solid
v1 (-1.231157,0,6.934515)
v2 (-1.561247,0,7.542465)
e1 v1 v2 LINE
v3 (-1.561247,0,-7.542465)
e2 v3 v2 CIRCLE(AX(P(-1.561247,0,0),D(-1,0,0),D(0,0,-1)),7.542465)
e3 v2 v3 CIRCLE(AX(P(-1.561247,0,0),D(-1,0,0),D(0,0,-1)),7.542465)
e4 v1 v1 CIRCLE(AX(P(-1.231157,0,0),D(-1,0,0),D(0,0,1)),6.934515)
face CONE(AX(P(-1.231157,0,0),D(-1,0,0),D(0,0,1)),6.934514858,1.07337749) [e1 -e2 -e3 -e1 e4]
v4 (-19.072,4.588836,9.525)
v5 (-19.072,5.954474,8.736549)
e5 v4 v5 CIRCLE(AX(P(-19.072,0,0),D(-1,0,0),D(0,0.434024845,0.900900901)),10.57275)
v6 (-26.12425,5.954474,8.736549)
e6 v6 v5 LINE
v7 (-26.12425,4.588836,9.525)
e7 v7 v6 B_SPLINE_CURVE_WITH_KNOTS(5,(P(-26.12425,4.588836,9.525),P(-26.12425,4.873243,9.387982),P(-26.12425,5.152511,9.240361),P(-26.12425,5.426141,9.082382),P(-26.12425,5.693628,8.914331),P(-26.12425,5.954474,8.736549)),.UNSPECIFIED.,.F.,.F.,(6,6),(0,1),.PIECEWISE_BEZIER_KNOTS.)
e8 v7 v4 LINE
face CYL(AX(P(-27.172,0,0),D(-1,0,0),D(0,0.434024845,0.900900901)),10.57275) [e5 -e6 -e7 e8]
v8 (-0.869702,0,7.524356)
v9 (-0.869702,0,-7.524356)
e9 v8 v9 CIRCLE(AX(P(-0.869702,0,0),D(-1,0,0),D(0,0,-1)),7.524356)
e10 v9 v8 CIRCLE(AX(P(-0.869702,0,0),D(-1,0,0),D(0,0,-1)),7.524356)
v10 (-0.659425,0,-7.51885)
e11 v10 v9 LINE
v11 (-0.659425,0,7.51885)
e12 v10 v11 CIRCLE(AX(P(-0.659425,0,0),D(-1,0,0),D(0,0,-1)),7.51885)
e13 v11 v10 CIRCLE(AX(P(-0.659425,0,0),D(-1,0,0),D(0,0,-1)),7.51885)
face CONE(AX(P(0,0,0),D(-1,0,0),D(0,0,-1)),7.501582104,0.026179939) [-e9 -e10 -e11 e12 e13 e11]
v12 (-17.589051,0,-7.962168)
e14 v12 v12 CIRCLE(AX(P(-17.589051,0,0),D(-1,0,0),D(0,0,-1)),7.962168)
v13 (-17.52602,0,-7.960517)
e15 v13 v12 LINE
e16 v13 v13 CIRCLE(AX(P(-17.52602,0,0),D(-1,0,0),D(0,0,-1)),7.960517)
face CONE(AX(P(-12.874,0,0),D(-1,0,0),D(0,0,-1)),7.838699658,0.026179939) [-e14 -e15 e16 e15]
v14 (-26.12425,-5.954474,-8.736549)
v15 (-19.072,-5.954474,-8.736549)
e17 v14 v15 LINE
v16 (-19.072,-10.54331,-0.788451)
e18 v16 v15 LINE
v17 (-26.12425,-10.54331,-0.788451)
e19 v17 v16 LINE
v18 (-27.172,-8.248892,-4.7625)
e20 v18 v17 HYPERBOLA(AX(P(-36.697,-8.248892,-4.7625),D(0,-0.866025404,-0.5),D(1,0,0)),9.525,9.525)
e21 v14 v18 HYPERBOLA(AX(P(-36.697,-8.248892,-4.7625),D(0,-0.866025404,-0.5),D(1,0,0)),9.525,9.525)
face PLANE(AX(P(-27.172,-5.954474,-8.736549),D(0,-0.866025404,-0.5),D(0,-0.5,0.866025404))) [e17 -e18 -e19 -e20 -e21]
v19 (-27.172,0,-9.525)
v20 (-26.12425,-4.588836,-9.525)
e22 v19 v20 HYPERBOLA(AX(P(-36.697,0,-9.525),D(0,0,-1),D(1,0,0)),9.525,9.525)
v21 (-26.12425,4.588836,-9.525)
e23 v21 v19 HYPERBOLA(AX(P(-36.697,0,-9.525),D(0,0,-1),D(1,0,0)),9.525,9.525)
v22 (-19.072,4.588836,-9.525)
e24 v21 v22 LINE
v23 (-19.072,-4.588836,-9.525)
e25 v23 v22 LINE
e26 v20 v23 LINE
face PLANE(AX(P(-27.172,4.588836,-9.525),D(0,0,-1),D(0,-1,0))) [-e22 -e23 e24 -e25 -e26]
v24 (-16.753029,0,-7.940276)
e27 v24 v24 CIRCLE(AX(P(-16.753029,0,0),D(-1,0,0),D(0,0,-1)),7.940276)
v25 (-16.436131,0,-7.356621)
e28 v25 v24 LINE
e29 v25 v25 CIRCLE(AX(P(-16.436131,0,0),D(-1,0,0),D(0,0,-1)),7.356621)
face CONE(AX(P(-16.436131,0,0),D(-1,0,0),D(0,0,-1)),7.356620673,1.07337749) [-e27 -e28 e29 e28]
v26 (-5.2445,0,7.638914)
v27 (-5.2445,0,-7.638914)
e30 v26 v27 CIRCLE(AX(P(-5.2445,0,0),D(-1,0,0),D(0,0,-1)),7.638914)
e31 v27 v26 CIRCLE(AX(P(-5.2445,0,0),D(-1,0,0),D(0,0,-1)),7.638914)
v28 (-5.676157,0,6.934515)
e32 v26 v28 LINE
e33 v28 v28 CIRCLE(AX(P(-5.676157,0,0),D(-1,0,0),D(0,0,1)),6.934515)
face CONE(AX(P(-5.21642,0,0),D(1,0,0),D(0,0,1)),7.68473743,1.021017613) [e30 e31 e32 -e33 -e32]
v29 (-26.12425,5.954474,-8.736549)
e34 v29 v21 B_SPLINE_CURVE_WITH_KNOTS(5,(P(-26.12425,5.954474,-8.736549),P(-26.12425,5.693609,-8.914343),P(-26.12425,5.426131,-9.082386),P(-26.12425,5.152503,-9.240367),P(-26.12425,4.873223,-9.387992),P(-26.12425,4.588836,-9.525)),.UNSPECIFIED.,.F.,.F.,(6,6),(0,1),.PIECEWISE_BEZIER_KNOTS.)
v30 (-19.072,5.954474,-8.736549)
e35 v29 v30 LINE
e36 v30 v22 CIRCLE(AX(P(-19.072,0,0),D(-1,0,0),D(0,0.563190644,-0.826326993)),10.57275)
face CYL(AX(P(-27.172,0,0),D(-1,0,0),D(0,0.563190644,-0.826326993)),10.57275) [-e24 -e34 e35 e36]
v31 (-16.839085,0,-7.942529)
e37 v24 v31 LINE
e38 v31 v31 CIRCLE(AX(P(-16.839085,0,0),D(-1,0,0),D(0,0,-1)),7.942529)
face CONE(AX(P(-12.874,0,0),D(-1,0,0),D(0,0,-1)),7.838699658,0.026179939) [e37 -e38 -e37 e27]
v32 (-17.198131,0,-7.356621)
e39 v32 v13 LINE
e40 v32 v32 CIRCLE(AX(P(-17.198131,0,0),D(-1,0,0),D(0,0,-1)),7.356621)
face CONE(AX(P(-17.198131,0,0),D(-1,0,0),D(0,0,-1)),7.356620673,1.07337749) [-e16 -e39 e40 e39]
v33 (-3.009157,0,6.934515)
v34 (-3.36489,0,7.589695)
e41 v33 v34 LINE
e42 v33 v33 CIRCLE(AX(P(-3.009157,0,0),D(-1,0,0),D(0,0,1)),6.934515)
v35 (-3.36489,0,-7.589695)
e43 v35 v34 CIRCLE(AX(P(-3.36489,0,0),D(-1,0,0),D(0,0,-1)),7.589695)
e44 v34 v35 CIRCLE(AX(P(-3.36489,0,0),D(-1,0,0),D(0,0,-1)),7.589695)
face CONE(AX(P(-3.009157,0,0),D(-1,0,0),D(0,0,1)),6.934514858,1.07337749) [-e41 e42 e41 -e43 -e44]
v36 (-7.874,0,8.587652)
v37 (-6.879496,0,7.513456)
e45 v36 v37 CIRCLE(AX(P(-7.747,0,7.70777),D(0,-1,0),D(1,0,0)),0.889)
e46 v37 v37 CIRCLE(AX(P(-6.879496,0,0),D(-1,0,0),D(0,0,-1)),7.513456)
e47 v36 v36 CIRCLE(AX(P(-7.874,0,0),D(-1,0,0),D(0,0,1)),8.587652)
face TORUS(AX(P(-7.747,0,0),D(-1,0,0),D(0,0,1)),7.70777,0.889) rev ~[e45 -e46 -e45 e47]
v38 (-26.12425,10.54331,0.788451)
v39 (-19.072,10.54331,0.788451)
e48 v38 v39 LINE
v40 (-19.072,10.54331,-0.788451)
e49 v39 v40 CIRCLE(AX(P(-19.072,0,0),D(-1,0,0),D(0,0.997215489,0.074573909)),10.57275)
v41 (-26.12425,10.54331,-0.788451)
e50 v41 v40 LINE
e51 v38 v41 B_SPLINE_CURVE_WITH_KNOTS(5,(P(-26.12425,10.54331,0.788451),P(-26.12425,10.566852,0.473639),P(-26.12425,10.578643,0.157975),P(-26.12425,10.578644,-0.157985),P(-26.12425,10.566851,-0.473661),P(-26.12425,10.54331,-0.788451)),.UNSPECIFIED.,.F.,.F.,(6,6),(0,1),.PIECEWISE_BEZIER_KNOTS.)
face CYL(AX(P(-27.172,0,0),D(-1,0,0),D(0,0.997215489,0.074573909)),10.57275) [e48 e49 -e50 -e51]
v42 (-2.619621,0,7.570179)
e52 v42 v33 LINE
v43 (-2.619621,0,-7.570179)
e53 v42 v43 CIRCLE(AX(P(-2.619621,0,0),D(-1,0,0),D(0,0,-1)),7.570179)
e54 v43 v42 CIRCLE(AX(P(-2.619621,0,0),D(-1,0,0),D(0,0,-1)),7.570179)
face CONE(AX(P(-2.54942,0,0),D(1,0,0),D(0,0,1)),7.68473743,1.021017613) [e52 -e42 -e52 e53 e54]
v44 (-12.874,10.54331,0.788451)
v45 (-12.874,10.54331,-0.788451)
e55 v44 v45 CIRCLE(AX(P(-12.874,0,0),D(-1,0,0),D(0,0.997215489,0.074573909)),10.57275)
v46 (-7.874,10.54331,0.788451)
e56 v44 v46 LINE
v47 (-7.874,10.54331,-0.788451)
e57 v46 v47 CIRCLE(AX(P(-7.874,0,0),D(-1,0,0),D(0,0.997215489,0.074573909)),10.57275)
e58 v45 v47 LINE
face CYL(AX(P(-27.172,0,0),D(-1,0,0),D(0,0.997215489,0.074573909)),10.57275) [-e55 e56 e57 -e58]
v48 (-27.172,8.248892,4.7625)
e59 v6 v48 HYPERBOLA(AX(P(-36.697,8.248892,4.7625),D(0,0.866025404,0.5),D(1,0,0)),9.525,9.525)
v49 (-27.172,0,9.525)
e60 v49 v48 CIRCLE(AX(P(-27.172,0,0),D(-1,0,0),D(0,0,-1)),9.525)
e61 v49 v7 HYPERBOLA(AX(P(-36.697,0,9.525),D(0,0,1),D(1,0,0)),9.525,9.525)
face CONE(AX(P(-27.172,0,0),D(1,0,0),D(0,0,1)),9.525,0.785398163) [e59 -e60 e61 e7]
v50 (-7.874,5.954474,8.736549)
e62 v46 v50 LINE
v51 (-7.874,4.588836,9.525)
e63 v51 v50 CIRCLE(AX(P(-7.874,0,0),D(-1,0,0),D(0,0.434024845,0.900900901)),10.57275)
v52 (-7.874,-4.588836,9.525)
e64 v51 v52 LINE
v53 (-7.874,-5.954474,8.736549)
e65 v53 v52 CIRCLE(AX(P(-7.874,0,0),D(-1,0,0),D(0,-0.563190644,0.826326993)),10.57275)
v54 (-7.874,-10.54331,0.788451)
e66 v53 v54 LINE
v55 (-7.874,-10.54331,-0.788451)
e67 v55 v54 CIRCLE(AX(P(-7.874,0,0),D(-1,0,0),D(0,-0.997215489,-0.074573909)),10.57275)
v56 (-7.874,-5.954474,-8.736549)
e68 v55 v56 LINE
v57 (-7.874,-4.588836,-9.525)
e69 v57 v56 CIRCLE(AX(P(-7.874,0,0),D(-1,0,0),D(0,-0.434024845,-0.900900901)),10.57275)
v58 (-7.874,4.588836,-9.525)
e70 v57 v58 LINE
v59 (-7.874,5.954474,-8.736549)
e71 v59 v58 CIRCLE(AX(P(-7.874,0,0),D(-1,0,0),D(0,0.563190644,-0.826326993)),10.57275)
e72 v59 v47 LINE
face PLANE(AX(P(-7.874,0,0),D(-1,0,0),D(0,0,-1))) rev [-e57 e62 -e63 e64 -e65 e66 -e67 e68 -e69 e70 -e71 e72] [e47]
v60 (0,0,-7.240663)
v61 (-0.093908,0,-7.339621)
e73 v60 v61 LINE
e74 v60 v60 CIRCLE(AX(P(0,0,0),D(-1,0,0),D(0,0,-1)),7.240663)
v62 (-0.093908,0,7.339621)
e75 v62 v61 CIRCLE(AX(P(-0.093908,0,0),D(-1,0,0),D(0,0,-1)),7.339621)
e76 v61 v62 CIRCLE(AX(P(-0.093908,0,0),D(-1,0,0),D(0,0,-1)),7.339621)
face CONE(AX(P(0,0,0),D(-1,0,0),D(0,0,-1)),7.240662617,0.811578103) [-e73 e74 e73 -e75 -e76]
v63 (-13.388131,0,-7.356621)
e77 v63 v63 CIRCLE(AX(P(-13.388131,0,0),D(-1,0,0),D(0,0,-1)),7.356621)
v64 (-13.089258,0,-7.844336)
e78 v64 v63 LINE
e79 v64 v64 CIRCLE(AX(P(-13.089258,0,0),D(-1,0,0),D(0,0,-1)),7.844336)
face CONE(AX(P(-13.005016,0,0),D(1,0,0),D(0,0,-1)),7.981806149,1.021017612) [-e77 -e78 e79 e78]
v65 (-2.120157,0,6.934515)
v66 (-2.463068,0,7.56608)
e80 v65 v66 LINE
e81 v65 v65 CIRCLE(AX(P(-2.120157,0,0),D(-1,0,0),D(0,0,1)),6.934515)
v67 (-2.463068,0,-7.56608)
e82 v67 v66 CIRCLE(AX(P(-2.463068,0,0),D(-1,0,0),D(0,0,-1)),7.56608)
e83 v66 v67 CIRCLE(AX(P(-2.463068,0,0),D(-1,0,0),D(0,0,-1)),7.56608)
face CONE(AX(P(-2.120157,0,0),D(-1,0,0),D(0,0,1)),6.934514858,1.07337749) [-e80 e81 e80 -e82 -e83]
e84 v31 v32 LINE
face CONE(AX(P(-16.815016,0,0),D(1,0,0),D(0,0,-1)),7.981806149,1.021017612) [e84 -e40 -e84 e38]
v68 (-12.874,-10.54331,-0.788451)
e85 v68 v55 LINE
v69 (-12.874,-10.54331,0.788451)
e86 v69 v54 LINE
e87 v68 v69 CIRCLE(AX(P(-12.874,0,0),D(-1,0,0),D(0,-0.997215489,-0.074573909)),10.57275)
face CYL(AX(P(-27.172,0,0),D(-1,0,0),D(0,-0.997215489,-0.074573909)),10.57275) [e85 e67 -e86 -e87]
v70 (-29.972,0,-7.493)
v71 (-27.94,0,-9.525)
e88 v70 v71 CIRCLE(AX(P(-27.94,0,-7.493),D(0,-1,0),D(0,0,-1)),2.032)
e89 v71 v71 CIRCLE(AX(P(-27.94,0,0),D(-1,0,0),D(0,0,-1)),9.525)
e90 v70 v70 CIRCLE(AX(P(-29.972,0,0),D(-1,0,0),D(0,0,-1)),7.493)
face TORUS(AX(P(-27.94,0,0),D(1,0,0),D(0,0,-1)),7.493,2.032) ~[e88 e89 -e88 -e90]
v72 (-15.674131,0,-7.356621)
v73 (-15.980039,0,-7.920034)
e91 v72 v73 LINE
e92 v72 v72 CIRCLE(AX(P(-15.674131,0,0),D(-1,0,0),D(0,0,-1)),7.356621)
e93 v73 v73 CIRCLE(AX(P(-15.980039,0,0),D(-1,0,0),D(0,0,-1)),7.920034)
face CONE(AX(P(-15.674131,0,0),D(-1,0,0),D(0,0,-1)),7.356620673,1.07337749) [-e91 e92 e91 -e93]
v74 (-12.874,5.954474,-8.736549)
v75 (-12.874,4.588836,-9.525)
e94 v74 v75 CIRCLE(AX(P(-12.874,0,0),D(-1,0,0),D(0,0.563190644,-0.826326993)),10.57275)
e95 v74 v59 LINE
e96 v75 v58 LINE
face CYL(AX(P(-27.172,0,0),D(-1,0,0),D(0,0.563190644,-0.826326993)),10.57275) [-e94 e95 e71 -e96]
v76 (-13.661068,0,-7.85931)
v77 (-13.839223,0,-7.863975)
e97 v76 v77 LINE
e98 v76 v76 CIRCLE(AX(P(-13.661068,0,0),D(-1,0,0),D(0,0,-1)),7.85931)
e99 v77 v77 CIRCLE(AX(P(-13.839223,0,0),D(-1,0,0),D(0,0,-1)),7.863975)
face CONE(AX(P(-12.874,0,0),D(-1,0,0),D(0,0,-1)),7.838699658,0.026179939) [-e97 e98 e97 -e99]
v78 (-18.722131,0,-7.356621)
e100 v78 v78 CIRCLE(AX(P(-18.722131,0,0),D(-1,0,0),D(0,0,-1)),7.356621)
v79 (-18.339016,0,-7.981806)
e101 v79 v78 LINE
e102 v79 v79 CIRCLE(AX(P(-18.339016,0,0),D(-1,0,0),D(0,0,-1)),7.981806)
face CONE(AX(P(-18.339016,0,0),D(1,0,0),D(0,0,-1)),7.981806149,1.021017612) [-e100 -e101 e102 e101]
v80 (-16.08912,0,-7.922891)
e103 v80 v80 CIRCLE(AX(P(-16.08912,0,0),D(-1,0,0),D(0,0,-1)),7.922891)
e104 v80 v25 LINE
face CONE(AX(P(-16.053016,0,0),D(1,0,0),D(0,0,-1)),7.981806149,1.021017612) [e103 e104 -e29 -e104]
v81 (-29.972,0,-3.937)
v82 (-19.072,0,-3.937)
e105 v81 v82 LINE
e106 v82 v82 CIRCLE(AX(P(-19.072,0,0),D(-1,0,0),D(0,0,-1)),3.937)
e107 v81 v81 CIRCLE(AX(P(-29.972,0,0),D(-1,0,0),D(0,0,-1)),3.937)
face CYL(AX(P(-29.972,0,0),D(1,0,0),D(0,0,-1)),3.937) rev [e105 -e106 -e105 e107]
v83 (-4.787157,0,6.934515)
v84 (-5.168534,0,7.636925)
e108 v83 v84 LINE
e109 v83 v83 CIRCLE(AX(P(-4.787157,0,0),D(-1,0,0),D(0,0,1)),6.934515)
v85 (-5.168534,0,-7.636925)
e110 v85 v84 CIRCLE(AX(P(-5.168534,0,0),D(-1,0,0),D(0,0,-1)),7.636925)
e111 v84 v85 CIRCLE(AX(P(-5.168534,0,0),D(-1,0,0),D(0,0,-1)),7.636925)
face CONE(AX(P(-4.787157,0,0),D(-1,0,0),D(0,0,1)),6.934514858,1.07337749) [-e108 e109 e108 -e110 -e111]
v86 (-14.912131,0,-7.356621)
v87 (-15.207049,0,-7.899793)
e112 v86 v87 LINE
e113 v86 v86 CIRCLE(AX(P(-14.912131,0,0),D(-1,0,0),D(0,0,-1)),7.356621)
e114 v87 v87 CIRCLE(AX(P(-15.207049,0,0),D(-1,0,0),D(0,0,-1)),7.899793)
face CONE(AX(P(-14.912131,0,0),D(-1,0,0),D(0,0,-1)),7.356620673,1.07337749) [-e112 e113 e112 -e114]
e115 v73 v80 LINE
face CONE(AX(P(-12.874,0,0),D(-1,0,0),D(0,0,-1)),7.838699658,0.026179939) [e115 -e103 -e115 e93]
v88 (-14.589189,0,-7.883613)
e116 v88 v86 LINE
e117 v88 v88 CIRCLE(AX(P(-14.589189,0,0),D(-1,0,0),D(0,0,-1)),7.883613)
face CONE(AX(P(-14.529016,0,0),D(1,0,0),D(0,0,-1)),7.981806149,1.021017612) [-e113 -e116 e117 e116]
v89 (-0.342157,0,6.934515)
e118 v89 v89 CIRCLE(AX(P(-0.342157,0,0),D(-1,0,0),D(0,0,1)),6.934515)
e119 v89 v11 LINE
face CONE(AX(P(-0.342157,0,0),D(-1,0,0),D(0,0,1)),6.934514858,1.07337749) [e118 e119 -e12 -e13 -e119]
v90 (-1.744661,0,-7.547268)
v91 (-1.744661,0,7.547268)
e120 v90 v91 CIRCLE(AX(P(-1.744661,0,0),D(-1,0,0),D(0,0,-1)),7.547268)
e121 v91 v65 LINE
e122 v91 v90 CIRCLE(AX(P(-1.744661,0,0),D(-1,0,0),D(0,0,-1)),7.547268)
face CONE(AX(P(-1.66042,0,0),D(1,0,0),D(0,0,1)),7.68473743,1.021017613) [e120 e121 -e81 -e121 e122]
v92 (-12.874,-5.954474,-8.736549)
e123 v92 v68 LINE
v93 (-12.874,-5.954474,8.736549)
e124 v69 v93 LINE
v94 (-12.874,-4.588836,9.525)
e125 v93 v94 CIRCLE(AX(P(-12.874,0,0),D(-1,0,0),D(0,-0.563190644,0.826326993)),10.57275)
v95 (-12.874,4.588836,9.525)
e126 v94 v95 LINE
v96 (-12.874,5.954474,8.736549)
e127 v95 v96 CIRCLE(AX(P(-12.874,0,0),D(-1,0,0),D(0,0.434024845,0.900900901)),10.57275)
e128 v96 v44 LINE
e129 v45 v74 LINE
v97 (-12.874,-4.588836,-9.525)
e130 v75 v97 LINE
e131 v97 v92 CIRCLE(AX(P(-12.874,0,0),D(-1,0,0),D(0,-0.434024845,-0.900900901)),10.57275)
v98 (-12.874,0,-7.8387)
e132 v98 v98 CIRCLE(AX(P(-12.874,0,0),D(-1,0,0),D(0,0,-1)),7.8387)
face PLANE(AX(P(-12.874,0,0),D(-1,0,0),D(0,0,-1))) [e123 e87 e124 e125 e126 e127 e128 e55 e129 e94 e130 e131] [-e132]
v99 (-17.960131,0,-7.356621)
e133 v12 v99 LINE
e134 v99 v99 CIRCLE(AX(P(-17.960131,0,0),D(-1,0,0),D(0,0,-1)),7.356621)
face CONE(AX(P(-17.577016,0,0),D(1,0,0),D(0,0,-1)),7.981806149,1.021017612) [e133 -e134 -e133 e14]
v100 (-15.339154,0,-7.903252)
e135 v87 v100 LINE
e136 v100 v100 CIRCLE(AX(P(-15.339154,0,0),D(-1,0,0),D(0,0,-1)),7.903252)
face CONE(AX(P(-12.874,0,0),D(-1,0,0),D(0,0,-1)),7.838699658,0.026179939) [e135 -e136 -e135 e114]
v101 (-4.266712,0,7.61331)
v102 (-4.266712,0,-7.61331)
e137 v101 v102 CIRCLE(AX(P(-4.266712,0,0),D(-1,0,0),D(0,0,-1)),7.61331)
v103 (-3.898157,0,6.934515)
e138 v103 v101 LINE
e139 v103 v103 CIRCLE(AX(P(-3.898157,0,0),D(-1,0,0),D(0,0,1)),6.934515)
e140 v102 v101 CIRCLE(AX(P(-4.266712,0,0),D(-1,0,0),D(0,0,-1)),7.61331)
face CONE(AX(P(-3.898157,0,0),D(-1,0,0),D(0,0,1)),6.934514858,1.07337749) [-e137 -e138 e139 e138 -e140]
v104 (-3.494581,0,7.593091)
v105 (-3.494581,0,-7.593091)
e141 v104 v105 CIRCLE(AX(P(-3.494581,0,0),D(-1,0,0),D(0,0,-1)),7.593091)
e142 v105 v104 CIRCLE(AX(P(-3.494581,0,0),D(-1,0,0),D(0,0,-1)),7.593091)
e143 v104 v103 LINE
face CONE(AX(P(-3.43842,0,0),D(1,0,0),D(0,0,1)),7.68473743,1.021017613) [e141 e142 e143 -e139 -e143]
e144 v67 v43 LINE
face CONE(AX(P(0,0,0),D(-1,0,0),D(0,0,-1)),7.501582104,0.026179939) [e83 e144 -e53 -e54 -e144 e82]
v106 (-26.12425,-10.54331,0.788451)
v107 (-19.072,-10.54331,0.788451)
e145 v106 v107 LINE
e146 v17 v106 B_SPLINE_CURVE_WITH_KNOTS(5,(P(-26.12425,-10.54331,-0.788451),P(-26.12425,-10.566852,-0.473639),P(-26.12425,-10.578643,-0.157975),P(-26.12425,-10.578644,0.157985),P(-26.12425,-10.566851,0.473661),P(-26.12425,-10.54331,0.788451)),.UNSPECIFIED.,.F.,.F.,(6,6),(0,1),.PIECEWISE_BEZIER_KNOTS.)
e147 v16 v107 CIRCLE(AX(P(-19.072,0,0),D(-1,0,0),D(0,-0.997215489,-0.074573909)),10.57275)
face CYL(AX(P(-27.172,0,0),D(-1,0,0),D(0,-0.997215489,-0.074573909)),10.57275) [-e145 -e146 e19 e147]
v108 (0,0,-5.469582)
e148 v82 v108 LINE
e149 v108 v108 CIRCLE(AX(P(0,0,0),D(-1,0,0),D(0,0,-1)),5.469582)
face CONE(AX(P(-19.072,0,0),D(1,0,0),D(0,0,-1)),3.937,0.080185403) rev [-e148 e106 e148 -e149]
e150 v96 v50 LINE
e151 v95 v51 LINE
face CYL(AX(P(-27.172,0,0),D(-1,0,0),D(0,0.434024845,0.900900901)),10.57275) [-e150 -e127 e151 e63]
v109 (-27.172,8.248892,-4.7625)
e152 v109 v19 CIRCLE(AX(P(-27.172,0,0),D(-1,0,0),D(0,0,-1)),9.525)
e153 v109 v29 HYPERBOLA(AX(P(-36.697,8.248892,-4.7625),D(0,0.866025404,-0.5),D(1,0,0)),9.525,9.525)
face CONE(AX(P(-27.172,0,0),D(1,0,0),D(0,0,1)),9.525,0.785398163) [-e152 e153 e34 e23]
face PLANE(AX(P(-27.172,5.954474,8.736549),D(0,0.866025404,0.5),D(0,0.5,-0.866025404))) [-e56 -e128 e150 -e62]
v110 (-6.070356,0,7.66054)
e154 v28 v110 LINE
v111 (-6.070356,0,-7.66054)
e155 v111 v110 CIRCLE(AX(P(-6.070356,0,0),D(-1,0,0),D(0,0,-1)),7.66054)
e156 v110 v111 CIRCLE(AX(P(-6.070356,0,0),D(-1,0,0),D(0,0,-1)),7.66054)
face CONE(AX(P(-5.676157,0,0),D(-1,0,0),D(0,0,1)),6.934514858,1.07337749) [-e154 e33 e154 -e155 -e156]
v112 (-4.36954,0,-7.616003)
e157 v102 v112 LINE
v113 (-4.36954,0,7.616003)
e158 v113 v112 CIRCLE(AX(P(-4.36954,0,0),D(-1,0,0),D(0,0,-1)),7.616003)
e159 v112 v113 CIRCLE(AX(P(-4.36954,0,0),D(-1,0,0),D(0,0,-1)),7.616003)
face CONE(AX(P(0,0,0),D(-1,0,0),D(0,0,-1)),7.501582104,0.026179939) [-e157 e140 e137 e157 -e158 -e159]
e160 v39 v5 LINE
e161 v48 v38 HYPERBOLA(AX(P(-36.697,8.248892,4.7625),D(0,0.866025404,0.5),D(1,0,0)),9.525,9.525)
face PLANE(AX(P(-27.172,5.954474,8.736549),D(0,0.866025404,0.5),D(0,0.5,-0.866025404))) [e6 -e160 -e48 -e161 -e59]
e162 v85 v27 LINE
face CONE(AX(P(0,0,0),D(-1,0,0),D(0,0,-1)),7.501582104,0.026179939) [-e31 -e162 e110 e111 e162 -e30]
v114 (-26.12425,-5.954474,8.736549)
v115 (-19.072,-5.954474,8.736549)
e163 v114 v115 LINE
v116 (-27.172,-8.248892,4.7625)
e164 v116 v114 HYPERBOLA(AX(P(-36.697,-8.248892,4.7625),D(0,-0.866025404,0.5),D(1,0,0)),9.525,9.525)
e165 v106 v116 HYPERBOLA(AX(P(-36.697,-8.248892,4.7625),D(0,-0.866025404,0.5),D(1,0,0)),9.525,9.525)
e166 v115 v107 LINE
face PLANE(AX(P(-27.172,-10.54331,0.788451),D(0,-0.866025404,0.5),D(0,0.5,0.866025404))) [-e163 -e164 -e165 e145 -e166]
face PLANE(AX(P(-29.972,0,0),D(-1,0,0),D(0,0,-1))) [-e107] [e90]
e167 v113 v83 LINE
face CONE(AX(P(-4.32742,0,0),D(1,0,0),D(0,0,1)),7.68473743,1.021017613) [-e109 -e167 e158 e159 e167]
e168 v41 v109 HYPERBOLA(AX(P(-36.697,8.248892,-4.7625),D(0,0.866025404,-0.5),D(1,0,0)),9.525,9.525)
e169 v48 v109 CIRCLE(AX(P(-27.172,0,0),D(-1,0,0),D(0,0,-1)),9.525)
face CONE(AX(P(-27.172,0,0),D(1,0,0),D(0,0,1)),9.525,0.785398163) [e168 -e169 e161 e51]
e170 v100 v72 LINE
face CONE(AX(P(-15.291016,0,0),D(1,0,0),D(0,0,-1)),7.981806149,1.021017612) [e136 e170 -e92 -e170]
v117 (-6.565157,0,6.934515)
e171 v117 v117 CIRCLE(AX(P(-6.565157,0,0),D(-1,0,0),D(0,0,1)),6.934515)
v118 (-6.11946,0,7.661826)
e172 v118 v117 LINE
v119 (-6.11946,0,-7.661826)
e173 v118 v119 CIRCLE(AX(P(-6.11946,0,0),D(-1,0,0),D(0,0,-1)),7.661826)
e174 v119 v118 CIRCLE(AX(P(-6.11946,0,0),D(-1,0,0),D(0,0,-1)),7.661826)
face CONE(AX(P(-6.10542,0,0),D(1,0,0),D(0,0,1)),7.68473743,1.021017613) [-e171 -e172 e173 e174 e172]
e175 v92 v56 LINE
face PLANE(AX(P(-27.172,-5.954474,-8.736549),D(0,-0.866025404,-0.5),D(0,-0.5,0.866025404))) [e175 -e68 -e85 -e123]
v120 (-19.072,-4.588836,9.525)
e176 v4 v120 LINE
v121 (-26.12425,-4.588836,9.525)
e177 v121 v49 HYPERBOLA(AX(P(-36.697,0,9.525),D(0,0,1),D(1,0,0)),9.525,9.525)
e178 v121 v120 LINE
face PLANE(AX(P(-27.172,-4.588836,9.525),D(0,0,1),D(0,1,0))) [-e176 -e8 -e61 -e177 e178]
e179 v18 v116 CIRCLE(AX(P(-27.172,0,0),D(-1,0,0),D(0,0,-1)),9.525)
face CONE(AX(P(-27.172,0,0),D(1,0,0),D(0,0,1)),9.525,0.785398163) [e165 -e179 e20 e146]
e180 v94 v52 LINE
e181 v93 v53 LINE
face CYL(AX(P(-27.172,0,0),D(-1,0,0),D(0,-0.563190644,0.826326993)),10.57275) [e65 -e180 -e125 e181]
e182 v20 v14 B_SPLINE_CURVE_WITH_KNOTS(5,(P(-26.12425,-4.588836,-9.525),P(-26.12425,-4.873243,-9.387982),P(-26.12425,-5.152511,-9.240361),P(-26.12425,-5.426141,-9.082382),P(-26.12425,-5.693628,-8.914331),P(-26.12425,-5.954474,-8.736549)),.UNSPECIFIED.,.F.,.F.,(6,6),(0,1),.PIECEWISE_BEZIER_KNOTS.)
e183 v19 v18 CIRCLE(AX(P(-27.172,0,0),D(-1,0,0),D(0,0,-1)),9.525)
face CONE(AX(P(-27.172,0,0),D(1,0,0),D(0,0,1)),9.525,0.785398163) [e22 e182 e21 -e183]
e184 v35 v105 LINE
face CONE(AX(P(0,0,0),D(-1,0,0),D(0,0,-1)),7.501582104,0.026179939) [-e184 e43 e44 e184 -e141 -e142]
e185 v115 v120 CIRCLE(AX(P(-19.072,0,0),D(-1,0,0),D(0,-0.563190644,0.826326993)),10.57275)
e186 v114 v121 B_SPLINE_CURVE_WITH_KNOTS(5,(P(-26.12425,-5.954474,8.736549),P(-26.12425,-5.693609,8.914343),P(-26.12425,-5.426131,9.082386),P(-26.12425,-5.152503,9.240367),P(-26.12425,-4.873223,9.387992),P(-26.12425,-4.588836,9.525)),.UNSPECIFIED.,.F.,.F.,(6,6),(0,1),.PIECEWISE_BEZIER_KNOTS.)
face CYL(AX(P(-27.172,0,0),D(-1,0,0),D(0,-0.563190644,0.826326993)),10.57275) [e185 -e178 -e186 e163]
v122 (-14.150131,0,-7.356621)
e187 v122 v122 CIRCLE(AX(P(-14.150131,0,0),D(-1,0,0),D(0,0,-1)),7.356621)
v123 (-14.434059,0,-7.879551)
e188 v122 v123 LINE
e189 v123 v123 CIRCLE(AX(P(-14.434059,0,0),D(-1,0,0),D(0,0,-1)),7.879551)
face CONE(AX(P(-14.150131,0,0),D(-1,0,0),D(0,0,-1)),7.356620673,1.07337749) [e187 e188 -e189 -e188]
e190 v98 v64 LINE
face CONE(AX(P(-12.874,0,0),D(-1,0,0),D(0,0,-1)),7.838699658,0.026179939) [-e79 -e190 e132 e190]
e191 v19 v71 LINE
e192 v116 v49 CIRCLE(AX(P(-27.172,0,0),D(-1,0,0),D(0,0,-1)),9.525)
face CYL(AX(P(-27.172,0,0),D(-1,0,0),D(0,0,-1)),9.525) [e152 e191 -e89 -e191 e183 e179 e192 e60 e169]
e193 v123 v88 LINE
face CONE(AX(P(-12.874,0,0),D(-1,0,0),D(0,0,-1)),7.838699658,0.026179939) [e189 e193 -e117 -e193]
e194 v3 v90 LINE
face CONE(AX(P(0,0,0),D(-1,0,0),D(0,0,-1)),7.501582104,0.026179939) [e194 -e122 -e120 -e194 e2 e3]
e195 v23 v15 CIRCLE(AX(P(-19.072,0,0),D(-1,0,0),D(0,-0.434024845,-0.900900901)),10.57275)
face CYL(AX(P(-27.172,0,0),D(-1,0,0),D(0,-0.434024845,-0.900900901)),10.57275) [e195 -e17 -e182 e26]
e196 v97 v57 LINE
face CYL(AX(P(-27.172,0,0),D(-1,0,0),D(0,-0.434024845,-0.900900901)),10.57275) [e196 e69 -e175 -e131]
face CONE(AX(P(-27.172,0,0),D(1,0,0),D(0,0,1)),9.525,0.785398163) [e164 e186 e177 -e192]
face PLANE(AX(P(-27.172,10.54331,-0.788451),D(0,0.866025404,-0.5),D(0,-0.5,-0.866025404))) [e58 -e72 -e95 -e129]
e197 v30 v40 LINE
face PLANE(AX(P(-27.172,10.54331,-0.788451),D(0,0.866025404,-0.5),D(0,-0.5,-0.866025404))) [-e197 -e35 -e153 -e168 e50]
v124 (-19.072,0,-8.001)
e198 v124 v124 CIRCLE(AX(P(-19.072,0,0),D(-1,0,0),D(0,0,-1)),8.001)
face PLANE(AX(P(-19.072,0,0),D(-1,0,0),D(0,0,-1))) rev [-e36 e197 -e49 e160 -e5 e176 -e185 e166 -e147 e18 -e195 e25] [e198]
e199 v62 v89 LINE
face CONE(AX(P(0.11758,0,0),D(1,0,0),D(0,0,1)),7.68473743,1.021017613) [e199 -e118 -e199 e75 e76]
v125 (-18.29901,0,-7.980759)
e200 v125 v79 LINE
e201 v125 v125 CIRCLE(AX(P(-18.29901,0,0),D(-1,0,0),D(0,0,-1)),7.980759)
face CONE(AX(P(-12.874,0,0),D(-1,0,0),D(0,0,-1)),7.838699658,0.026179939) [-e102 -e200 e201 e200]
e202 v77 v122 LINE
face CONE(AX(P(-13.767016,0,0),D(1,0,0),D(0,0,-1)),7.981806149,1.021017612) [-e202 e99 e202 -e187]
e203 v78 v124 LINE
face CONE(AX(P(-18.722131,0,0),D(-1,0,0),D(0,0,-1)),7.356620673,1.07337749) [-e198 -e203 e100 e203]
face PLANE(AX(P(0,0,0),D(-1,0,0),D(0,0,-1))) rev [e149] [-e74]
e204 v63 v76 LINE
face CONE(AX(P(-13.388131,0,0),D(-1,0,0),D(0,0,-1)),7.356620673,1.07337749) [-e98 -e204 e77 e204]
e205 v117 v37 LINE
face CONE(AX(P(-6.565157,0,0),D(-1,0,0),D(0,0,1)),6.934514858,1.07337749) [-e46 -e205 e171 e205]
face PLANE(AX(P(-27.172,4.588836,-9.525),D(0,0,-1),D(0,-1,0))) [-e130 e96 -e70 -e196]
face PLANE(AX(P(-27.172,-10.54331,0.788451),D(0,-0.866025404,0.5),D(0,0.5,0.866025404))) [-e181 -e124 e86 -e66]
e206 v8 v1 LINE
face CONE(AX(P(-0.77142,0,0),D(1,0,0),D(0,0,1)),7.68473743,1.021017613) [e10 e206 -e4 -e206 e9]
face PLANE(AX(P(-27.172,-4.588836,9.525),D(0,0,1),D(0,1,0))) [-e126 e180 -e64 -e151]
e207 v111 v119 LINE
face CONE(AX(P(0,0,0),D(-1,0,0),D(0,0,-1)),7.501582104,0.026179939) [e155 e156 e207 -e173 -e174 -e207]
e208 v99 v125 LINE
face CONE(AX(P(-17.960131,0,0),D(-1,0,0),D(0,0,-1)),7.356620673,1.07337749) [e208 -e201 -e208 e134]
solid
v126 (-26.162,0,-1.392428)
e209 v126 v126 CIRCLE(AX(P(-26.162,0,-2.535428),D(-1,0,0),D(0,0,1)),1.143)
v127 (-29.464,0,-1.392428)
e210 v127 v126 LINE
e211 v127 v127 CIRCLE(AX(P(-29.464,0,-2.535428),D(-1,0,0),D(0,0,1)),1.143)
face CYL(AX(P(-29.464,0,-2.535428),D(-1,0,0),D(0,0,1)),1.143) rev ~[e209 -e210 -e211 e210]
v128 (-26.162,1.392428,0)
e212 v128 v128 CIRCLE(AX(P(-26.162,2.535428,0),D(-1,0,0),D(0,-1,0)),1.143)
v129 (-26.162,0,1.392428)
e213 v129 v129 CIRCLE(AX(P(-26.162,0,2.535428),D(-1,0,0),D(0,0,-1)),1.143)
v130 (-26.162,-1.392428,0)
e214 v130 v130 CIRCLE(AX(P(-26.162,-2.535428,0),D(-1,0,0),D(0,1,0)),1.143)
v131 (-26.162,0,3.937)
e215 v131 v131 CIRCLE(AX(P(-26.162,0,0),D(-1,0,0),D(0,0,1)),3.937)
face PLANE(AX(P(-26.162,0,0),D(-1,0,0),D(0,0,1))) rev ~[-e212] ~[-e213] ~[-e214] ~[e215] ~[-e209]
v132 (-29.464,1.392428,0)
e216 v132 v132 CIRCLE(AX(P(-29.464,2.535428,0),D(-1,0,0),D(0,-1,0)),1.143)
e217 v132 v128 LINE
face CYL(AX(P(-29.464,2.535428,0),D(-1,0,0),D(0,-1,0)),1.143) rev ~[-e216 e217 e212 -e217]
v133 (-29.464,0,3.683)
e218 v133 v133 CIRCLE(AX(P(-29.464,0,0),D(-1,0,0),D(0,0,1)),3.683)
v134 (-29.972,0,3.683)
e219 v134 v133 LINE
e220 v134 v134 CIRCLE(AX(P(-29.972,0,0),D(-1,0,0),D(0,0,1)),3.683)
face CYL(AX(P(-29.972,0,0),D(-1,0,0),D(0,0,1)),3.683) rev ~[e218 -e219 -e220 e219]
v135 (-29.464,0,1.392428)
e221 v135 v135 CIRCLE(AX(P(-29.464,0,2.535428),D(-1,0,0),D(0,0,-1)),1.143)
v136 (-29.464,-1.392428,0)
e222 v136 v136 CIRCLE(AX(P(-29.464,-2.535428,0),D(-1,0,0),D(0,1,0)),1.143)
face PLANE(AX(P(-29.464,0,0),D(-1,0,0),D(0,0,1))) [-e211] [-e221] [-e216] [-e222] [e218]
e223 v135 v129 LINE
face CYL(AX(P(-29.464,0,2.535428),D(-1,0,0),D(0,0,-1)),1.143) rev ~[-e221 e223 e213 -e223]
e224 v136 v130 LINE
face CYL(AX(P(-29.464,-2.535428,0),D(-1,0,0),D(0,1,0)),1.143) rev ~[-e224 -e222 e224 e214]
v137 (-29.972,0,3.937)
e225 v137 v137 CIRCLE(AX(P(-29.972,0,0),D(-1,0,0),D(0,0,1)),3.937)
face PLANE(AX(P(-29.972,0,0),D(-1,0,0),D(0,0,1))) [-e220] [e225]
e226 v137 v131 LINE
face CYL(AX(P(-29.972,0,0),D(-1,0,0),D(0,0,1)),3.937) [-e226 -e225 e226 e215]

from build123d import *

# Parameters (mm, degrees)
SKETCH12_OUTSIDE_W = 52.432
SKETCH12_OUTSIDE_H = 52.432
CUT_EXTRUDE2_DEPTH = 28.172
FILLET4_R          = 2.032
SKETCH19_OUTSIDE_W = 33.316
SKETCH19_OUTSIDE_H = 35.412
SKETCH19_OUTSIDE_R = 9.525
CUT_EXTRUDE3_DEPTH = 1.999996
CUT_EXTRUDE3_DRAFT = -45
CHAMFER1_SIZE      = 0.260919487
CHAMFER1_SIZE2     = 0.254
SKETCH21_R         = 3.937
PLUG_DEPTH         = 3.81
SKETCH22_R         = 3.683
CUT_EXTRUDE4_DEPTH = 0.508
SKETCH27_R         = 1.143
PLUGHOLES_DEPTH    = 30.464
CIRPATTERN1_COUNT  = 4
LPATTERN1_COUNT    = 8
LPATTERN1_PITCH    = 0.762
LPATTERN2_COUNT    = 9
LPATTERN2_PITCH    = 0.889
SKETCH32_R         = 0.889


with BuildPart() as part:
    # Sketch10 → Revolve2 (revolve)
    with BuildSketch(Plane.XY, mode=Mode.PRIVATE) as revolve2_sk:
        Polygon((-29.972, 3.937), (-19.072, 3.937), (0, 5.469582104), (0, 7.501582104), (-7.874, 7.70777005), (-7.874, 19.05), (-12.874, 19.05), (-12.874, 7.838699658), (-19.072, 8.001), (-19.072, 19.05), (-27.172, 19.05), (-27.172, 9.525), (-29.972, 9.525), align=None)
    revolve(revolve2_sk.sketch.rotate(Axis((0, 0, 0), (-1, 0, 0)), 90), axis=Axis((0, 0, 0), (-1, 0, 0)))  # turned: the seam where the file's is

    # Sketch12 outside → Cut-Extrude2 (cut, through all)
    with BuildSketch(Plane.ZY.offset(27.172)):
        Rectangle(SKETCH12_OUTSIDE_W, SKETCH12_OUTSIDE_H)
        with BuildLine():
            Line((-0.788451287, 10.543310065), (-8.736548713, 5.954473877))
            ThreePointArc((-8.736548713, 5.954473877), (-9.156270088, 5.286375), (-9.525, 4.588836188))
            Line((-9.525, 4.588836188), (-9.525, -4.588836188))
            ThreePointArc((-9.525, -4.588836188), (-9.156270088, -5.286375), (-8.736548713, -5.954473877))
            Line((-8.736548713, -5.954473877), (-0.788451287, -10.543310065))
            ThreePointArc((-0.788451287, -10.543310065), (0, -10.57275), (0.788451287, -10.543310065))
            Line((0.788451287, -10.543310065), (8.736548713, -5.954473877))
            ThreePointArc((8.736548713, -5.954473877), (9.156270088, -5.286375), (9.525, -4.588836188))
            Line((9.525, -4.588836188), (9.525, 4.588836188))
            ThreePointArc((9.525, 4.588836188), (9.156270088, 5.286375), (8.736548713, 5.954473877))
            Line((8.736548713, 5.954473877), (0.788451287, 10.543310065))
            ThreePointArc((0.788451287, 10.543310065), (0, 10.57275), (-0.788451287, 10.543310065))
        make_face(mode=Mode.SUBTRACT)
    extrude(amount=-CUT_EXTRUDE2_DEPTH, mode=Mode.SUBTRACT)

    # Fillet4
    fillet4_edges = [part.edges().sort_by_distance(p)[0] for p in [
        (-29.972, 0, 9.525),
    ]]
    fillet(fillet4_edges, radius=FILLET4_R)


with BuildPart() as cut_extrude3_tool:
    # Sketch19 outside → Cut-Extrude3 (with draft: the straight prism first)
    with BuildSketch(Plane.ZY.offset(27.172)):
        Rectangle(SKETCH19_OUTSIDE_W, SKETCH19_OUTSIDE_H)
        Circle(SKETCH19_OUTSIDE_R, mode=Mode.SUBTRACT)
    extrude(amount=-CUT_EXTRUDE3_DEPTH)
    # Cut-Extrude3: the draft: its side faces are tilted about the plane it starts from
    cut_extrude3_sides = [cut_extrude3_tool.faces().sort_by_distance(p)[0] for p in [
        (-26.172002, -17.706, 0),
        (-26.172002, 0, 16.658),
        (-26.172002, 17.706, 0),
        (-26.172002, 0, -16.658),
        (-26.172002, 0, -9.525),
    ]]
    draft(cut_extrude3_sides, Plane.ZY.offset(27.172), CUT_EXTRUDE3_DRAFT)


with BuildPart() as part_1:
    add(part.part)

    # Cut-Extrude3: cut by cut_extrude3_tool
    add(cut_extrude3_tool.part, mode=Mode.SUBTRACT)

    # Chamfer1
    chamfer1_edges = [part_1.edges().sort_by_distance(p)[0] for p in [
        (0, 0, 7.501582104),
    ]]
    chamfer1_side = [part_1.faces().sort_by_distance(p)[0] for p in [
        (0, 0, 5.681758887),
    ]]
    chamfer(chamfer1_edges, length=CHAMFER1_SIZE, length2=CHAMFER1_SIZE2, reference=chamfer1_side[0])

    # Sketch29 → Cut-Revolve1 (revolve, cut)
    with BuildSketch(Plane.XY, mode=Mode.PRIVATE) as cut_revolve1_sk:
        Polygon((-19.072, 8.001), (-18.339016419, 7.981806149), (-18.722130572, 7.356620673), align=None)
    cut_revolve1 = revolve(cut_revolve1_sk.sketch.rotate(Axis((0, 0, 0), (-1, 0, 0)), 90), axis=Axis((0, 0, 0), (-1, 0, 0)), mode=Mode.SUBTRACT)  # turned: the seam where the file's is

    # LPattern1: Cut-Revolve1 ×8
    with Locations(*[(i * LPATTERN1_PITCH, 0, 0) for i in range(1, LPATTERN1_COUNT)]):
        add(cut_revolve1, mode=Mode.SUBTRACT)

    # Sketch30 → Cut-Revolve2 (revolve, cut)
    with BuildSketch(Plane.XY, mode=Mode.PRIVATE) as cut_revolve2_sk:
        Polygon((-7.874, 7.70777005), (-6.994419703, 7.68473743), (-7.454156686, 6.934514858), align=None)
    cut_revolve2 = revolve(cut_revolve2_sk.sketch.rotate(Axis((0, 0, 0), (-1, 0, 0)), 270), axis=Axis((0, 0, 0), (-1, 0, 0)), mode=Mode.SUBTRACT)  # turned: the seam where the file's is

    # LPattern2: Cut-Revolve2 ×9
    with Locations(*[(i * LPATTERN2_PITCH, 0, 0) for i in range(1, LPATTERN2_COUNT)]):
        add(cut_revolve2, mode=Mode.SUBTRACT)

    # Sketch32 → Cut-Revolve3 (revolve, cut)
    with BuildSketch(Plane.XY, mode=Mode.PRIVATE) as cut_revolve3_sk:
        with Locations((-7.747, 7.70777005)):
            Circle(SKETCH32_R)
    revolve(cut_revolve3_sk.sketch.rotate(Axis((0, 0, 0), (-1, 0, 0)), 270), axis=Axis((0, 0, 0), (-1, 0, 0)), mode=Mode.SUBTRACT)  # turned: the seam where the file's is


with BuildPart() as body_2:
    # Sketch21 → plug (new body)
    with BuildSketch(Plane.ZY.offset(29.972)):
        Circle(SKETCH21_R)
    extrude(amount=-PLUG_DEPTH)

    # Sketch22 → Cut-Extrude4 (cut)
    with BuildSketch(Plane.ZY.offset(29.972)):
        Circle(SKETCH22_R)
    extrude(amount=-CUT_EXTRUDE4_DEPTH, mode=Mode.SUBTRACT)

    # Sketch27 → plugholes (cut, through all)
    with BuildSketch(Plane.ZY.offset(29.464)):
        with Locations((-2.535428, 0)):
            Circle(SKETCH27_R)
    plugholes = extrude(amount=-PLUGHOLES_DEPTH, mode=Mode.SUBTRACT)

    # CirPattern1: plugholes ×4 about axis
    cirpattern1_axis = Axis((0, 0, 0), (1, 0, 0))
    for i in range(1, CIRPATTERN1_COUNT):
        add(plugholes.rotate(cirpattern1_axis, i * 360 / CIRPATTERN1_COUNT), mode=Mode.SUBTRACT)


solid = Compound([part_1.part, body_2.part])
